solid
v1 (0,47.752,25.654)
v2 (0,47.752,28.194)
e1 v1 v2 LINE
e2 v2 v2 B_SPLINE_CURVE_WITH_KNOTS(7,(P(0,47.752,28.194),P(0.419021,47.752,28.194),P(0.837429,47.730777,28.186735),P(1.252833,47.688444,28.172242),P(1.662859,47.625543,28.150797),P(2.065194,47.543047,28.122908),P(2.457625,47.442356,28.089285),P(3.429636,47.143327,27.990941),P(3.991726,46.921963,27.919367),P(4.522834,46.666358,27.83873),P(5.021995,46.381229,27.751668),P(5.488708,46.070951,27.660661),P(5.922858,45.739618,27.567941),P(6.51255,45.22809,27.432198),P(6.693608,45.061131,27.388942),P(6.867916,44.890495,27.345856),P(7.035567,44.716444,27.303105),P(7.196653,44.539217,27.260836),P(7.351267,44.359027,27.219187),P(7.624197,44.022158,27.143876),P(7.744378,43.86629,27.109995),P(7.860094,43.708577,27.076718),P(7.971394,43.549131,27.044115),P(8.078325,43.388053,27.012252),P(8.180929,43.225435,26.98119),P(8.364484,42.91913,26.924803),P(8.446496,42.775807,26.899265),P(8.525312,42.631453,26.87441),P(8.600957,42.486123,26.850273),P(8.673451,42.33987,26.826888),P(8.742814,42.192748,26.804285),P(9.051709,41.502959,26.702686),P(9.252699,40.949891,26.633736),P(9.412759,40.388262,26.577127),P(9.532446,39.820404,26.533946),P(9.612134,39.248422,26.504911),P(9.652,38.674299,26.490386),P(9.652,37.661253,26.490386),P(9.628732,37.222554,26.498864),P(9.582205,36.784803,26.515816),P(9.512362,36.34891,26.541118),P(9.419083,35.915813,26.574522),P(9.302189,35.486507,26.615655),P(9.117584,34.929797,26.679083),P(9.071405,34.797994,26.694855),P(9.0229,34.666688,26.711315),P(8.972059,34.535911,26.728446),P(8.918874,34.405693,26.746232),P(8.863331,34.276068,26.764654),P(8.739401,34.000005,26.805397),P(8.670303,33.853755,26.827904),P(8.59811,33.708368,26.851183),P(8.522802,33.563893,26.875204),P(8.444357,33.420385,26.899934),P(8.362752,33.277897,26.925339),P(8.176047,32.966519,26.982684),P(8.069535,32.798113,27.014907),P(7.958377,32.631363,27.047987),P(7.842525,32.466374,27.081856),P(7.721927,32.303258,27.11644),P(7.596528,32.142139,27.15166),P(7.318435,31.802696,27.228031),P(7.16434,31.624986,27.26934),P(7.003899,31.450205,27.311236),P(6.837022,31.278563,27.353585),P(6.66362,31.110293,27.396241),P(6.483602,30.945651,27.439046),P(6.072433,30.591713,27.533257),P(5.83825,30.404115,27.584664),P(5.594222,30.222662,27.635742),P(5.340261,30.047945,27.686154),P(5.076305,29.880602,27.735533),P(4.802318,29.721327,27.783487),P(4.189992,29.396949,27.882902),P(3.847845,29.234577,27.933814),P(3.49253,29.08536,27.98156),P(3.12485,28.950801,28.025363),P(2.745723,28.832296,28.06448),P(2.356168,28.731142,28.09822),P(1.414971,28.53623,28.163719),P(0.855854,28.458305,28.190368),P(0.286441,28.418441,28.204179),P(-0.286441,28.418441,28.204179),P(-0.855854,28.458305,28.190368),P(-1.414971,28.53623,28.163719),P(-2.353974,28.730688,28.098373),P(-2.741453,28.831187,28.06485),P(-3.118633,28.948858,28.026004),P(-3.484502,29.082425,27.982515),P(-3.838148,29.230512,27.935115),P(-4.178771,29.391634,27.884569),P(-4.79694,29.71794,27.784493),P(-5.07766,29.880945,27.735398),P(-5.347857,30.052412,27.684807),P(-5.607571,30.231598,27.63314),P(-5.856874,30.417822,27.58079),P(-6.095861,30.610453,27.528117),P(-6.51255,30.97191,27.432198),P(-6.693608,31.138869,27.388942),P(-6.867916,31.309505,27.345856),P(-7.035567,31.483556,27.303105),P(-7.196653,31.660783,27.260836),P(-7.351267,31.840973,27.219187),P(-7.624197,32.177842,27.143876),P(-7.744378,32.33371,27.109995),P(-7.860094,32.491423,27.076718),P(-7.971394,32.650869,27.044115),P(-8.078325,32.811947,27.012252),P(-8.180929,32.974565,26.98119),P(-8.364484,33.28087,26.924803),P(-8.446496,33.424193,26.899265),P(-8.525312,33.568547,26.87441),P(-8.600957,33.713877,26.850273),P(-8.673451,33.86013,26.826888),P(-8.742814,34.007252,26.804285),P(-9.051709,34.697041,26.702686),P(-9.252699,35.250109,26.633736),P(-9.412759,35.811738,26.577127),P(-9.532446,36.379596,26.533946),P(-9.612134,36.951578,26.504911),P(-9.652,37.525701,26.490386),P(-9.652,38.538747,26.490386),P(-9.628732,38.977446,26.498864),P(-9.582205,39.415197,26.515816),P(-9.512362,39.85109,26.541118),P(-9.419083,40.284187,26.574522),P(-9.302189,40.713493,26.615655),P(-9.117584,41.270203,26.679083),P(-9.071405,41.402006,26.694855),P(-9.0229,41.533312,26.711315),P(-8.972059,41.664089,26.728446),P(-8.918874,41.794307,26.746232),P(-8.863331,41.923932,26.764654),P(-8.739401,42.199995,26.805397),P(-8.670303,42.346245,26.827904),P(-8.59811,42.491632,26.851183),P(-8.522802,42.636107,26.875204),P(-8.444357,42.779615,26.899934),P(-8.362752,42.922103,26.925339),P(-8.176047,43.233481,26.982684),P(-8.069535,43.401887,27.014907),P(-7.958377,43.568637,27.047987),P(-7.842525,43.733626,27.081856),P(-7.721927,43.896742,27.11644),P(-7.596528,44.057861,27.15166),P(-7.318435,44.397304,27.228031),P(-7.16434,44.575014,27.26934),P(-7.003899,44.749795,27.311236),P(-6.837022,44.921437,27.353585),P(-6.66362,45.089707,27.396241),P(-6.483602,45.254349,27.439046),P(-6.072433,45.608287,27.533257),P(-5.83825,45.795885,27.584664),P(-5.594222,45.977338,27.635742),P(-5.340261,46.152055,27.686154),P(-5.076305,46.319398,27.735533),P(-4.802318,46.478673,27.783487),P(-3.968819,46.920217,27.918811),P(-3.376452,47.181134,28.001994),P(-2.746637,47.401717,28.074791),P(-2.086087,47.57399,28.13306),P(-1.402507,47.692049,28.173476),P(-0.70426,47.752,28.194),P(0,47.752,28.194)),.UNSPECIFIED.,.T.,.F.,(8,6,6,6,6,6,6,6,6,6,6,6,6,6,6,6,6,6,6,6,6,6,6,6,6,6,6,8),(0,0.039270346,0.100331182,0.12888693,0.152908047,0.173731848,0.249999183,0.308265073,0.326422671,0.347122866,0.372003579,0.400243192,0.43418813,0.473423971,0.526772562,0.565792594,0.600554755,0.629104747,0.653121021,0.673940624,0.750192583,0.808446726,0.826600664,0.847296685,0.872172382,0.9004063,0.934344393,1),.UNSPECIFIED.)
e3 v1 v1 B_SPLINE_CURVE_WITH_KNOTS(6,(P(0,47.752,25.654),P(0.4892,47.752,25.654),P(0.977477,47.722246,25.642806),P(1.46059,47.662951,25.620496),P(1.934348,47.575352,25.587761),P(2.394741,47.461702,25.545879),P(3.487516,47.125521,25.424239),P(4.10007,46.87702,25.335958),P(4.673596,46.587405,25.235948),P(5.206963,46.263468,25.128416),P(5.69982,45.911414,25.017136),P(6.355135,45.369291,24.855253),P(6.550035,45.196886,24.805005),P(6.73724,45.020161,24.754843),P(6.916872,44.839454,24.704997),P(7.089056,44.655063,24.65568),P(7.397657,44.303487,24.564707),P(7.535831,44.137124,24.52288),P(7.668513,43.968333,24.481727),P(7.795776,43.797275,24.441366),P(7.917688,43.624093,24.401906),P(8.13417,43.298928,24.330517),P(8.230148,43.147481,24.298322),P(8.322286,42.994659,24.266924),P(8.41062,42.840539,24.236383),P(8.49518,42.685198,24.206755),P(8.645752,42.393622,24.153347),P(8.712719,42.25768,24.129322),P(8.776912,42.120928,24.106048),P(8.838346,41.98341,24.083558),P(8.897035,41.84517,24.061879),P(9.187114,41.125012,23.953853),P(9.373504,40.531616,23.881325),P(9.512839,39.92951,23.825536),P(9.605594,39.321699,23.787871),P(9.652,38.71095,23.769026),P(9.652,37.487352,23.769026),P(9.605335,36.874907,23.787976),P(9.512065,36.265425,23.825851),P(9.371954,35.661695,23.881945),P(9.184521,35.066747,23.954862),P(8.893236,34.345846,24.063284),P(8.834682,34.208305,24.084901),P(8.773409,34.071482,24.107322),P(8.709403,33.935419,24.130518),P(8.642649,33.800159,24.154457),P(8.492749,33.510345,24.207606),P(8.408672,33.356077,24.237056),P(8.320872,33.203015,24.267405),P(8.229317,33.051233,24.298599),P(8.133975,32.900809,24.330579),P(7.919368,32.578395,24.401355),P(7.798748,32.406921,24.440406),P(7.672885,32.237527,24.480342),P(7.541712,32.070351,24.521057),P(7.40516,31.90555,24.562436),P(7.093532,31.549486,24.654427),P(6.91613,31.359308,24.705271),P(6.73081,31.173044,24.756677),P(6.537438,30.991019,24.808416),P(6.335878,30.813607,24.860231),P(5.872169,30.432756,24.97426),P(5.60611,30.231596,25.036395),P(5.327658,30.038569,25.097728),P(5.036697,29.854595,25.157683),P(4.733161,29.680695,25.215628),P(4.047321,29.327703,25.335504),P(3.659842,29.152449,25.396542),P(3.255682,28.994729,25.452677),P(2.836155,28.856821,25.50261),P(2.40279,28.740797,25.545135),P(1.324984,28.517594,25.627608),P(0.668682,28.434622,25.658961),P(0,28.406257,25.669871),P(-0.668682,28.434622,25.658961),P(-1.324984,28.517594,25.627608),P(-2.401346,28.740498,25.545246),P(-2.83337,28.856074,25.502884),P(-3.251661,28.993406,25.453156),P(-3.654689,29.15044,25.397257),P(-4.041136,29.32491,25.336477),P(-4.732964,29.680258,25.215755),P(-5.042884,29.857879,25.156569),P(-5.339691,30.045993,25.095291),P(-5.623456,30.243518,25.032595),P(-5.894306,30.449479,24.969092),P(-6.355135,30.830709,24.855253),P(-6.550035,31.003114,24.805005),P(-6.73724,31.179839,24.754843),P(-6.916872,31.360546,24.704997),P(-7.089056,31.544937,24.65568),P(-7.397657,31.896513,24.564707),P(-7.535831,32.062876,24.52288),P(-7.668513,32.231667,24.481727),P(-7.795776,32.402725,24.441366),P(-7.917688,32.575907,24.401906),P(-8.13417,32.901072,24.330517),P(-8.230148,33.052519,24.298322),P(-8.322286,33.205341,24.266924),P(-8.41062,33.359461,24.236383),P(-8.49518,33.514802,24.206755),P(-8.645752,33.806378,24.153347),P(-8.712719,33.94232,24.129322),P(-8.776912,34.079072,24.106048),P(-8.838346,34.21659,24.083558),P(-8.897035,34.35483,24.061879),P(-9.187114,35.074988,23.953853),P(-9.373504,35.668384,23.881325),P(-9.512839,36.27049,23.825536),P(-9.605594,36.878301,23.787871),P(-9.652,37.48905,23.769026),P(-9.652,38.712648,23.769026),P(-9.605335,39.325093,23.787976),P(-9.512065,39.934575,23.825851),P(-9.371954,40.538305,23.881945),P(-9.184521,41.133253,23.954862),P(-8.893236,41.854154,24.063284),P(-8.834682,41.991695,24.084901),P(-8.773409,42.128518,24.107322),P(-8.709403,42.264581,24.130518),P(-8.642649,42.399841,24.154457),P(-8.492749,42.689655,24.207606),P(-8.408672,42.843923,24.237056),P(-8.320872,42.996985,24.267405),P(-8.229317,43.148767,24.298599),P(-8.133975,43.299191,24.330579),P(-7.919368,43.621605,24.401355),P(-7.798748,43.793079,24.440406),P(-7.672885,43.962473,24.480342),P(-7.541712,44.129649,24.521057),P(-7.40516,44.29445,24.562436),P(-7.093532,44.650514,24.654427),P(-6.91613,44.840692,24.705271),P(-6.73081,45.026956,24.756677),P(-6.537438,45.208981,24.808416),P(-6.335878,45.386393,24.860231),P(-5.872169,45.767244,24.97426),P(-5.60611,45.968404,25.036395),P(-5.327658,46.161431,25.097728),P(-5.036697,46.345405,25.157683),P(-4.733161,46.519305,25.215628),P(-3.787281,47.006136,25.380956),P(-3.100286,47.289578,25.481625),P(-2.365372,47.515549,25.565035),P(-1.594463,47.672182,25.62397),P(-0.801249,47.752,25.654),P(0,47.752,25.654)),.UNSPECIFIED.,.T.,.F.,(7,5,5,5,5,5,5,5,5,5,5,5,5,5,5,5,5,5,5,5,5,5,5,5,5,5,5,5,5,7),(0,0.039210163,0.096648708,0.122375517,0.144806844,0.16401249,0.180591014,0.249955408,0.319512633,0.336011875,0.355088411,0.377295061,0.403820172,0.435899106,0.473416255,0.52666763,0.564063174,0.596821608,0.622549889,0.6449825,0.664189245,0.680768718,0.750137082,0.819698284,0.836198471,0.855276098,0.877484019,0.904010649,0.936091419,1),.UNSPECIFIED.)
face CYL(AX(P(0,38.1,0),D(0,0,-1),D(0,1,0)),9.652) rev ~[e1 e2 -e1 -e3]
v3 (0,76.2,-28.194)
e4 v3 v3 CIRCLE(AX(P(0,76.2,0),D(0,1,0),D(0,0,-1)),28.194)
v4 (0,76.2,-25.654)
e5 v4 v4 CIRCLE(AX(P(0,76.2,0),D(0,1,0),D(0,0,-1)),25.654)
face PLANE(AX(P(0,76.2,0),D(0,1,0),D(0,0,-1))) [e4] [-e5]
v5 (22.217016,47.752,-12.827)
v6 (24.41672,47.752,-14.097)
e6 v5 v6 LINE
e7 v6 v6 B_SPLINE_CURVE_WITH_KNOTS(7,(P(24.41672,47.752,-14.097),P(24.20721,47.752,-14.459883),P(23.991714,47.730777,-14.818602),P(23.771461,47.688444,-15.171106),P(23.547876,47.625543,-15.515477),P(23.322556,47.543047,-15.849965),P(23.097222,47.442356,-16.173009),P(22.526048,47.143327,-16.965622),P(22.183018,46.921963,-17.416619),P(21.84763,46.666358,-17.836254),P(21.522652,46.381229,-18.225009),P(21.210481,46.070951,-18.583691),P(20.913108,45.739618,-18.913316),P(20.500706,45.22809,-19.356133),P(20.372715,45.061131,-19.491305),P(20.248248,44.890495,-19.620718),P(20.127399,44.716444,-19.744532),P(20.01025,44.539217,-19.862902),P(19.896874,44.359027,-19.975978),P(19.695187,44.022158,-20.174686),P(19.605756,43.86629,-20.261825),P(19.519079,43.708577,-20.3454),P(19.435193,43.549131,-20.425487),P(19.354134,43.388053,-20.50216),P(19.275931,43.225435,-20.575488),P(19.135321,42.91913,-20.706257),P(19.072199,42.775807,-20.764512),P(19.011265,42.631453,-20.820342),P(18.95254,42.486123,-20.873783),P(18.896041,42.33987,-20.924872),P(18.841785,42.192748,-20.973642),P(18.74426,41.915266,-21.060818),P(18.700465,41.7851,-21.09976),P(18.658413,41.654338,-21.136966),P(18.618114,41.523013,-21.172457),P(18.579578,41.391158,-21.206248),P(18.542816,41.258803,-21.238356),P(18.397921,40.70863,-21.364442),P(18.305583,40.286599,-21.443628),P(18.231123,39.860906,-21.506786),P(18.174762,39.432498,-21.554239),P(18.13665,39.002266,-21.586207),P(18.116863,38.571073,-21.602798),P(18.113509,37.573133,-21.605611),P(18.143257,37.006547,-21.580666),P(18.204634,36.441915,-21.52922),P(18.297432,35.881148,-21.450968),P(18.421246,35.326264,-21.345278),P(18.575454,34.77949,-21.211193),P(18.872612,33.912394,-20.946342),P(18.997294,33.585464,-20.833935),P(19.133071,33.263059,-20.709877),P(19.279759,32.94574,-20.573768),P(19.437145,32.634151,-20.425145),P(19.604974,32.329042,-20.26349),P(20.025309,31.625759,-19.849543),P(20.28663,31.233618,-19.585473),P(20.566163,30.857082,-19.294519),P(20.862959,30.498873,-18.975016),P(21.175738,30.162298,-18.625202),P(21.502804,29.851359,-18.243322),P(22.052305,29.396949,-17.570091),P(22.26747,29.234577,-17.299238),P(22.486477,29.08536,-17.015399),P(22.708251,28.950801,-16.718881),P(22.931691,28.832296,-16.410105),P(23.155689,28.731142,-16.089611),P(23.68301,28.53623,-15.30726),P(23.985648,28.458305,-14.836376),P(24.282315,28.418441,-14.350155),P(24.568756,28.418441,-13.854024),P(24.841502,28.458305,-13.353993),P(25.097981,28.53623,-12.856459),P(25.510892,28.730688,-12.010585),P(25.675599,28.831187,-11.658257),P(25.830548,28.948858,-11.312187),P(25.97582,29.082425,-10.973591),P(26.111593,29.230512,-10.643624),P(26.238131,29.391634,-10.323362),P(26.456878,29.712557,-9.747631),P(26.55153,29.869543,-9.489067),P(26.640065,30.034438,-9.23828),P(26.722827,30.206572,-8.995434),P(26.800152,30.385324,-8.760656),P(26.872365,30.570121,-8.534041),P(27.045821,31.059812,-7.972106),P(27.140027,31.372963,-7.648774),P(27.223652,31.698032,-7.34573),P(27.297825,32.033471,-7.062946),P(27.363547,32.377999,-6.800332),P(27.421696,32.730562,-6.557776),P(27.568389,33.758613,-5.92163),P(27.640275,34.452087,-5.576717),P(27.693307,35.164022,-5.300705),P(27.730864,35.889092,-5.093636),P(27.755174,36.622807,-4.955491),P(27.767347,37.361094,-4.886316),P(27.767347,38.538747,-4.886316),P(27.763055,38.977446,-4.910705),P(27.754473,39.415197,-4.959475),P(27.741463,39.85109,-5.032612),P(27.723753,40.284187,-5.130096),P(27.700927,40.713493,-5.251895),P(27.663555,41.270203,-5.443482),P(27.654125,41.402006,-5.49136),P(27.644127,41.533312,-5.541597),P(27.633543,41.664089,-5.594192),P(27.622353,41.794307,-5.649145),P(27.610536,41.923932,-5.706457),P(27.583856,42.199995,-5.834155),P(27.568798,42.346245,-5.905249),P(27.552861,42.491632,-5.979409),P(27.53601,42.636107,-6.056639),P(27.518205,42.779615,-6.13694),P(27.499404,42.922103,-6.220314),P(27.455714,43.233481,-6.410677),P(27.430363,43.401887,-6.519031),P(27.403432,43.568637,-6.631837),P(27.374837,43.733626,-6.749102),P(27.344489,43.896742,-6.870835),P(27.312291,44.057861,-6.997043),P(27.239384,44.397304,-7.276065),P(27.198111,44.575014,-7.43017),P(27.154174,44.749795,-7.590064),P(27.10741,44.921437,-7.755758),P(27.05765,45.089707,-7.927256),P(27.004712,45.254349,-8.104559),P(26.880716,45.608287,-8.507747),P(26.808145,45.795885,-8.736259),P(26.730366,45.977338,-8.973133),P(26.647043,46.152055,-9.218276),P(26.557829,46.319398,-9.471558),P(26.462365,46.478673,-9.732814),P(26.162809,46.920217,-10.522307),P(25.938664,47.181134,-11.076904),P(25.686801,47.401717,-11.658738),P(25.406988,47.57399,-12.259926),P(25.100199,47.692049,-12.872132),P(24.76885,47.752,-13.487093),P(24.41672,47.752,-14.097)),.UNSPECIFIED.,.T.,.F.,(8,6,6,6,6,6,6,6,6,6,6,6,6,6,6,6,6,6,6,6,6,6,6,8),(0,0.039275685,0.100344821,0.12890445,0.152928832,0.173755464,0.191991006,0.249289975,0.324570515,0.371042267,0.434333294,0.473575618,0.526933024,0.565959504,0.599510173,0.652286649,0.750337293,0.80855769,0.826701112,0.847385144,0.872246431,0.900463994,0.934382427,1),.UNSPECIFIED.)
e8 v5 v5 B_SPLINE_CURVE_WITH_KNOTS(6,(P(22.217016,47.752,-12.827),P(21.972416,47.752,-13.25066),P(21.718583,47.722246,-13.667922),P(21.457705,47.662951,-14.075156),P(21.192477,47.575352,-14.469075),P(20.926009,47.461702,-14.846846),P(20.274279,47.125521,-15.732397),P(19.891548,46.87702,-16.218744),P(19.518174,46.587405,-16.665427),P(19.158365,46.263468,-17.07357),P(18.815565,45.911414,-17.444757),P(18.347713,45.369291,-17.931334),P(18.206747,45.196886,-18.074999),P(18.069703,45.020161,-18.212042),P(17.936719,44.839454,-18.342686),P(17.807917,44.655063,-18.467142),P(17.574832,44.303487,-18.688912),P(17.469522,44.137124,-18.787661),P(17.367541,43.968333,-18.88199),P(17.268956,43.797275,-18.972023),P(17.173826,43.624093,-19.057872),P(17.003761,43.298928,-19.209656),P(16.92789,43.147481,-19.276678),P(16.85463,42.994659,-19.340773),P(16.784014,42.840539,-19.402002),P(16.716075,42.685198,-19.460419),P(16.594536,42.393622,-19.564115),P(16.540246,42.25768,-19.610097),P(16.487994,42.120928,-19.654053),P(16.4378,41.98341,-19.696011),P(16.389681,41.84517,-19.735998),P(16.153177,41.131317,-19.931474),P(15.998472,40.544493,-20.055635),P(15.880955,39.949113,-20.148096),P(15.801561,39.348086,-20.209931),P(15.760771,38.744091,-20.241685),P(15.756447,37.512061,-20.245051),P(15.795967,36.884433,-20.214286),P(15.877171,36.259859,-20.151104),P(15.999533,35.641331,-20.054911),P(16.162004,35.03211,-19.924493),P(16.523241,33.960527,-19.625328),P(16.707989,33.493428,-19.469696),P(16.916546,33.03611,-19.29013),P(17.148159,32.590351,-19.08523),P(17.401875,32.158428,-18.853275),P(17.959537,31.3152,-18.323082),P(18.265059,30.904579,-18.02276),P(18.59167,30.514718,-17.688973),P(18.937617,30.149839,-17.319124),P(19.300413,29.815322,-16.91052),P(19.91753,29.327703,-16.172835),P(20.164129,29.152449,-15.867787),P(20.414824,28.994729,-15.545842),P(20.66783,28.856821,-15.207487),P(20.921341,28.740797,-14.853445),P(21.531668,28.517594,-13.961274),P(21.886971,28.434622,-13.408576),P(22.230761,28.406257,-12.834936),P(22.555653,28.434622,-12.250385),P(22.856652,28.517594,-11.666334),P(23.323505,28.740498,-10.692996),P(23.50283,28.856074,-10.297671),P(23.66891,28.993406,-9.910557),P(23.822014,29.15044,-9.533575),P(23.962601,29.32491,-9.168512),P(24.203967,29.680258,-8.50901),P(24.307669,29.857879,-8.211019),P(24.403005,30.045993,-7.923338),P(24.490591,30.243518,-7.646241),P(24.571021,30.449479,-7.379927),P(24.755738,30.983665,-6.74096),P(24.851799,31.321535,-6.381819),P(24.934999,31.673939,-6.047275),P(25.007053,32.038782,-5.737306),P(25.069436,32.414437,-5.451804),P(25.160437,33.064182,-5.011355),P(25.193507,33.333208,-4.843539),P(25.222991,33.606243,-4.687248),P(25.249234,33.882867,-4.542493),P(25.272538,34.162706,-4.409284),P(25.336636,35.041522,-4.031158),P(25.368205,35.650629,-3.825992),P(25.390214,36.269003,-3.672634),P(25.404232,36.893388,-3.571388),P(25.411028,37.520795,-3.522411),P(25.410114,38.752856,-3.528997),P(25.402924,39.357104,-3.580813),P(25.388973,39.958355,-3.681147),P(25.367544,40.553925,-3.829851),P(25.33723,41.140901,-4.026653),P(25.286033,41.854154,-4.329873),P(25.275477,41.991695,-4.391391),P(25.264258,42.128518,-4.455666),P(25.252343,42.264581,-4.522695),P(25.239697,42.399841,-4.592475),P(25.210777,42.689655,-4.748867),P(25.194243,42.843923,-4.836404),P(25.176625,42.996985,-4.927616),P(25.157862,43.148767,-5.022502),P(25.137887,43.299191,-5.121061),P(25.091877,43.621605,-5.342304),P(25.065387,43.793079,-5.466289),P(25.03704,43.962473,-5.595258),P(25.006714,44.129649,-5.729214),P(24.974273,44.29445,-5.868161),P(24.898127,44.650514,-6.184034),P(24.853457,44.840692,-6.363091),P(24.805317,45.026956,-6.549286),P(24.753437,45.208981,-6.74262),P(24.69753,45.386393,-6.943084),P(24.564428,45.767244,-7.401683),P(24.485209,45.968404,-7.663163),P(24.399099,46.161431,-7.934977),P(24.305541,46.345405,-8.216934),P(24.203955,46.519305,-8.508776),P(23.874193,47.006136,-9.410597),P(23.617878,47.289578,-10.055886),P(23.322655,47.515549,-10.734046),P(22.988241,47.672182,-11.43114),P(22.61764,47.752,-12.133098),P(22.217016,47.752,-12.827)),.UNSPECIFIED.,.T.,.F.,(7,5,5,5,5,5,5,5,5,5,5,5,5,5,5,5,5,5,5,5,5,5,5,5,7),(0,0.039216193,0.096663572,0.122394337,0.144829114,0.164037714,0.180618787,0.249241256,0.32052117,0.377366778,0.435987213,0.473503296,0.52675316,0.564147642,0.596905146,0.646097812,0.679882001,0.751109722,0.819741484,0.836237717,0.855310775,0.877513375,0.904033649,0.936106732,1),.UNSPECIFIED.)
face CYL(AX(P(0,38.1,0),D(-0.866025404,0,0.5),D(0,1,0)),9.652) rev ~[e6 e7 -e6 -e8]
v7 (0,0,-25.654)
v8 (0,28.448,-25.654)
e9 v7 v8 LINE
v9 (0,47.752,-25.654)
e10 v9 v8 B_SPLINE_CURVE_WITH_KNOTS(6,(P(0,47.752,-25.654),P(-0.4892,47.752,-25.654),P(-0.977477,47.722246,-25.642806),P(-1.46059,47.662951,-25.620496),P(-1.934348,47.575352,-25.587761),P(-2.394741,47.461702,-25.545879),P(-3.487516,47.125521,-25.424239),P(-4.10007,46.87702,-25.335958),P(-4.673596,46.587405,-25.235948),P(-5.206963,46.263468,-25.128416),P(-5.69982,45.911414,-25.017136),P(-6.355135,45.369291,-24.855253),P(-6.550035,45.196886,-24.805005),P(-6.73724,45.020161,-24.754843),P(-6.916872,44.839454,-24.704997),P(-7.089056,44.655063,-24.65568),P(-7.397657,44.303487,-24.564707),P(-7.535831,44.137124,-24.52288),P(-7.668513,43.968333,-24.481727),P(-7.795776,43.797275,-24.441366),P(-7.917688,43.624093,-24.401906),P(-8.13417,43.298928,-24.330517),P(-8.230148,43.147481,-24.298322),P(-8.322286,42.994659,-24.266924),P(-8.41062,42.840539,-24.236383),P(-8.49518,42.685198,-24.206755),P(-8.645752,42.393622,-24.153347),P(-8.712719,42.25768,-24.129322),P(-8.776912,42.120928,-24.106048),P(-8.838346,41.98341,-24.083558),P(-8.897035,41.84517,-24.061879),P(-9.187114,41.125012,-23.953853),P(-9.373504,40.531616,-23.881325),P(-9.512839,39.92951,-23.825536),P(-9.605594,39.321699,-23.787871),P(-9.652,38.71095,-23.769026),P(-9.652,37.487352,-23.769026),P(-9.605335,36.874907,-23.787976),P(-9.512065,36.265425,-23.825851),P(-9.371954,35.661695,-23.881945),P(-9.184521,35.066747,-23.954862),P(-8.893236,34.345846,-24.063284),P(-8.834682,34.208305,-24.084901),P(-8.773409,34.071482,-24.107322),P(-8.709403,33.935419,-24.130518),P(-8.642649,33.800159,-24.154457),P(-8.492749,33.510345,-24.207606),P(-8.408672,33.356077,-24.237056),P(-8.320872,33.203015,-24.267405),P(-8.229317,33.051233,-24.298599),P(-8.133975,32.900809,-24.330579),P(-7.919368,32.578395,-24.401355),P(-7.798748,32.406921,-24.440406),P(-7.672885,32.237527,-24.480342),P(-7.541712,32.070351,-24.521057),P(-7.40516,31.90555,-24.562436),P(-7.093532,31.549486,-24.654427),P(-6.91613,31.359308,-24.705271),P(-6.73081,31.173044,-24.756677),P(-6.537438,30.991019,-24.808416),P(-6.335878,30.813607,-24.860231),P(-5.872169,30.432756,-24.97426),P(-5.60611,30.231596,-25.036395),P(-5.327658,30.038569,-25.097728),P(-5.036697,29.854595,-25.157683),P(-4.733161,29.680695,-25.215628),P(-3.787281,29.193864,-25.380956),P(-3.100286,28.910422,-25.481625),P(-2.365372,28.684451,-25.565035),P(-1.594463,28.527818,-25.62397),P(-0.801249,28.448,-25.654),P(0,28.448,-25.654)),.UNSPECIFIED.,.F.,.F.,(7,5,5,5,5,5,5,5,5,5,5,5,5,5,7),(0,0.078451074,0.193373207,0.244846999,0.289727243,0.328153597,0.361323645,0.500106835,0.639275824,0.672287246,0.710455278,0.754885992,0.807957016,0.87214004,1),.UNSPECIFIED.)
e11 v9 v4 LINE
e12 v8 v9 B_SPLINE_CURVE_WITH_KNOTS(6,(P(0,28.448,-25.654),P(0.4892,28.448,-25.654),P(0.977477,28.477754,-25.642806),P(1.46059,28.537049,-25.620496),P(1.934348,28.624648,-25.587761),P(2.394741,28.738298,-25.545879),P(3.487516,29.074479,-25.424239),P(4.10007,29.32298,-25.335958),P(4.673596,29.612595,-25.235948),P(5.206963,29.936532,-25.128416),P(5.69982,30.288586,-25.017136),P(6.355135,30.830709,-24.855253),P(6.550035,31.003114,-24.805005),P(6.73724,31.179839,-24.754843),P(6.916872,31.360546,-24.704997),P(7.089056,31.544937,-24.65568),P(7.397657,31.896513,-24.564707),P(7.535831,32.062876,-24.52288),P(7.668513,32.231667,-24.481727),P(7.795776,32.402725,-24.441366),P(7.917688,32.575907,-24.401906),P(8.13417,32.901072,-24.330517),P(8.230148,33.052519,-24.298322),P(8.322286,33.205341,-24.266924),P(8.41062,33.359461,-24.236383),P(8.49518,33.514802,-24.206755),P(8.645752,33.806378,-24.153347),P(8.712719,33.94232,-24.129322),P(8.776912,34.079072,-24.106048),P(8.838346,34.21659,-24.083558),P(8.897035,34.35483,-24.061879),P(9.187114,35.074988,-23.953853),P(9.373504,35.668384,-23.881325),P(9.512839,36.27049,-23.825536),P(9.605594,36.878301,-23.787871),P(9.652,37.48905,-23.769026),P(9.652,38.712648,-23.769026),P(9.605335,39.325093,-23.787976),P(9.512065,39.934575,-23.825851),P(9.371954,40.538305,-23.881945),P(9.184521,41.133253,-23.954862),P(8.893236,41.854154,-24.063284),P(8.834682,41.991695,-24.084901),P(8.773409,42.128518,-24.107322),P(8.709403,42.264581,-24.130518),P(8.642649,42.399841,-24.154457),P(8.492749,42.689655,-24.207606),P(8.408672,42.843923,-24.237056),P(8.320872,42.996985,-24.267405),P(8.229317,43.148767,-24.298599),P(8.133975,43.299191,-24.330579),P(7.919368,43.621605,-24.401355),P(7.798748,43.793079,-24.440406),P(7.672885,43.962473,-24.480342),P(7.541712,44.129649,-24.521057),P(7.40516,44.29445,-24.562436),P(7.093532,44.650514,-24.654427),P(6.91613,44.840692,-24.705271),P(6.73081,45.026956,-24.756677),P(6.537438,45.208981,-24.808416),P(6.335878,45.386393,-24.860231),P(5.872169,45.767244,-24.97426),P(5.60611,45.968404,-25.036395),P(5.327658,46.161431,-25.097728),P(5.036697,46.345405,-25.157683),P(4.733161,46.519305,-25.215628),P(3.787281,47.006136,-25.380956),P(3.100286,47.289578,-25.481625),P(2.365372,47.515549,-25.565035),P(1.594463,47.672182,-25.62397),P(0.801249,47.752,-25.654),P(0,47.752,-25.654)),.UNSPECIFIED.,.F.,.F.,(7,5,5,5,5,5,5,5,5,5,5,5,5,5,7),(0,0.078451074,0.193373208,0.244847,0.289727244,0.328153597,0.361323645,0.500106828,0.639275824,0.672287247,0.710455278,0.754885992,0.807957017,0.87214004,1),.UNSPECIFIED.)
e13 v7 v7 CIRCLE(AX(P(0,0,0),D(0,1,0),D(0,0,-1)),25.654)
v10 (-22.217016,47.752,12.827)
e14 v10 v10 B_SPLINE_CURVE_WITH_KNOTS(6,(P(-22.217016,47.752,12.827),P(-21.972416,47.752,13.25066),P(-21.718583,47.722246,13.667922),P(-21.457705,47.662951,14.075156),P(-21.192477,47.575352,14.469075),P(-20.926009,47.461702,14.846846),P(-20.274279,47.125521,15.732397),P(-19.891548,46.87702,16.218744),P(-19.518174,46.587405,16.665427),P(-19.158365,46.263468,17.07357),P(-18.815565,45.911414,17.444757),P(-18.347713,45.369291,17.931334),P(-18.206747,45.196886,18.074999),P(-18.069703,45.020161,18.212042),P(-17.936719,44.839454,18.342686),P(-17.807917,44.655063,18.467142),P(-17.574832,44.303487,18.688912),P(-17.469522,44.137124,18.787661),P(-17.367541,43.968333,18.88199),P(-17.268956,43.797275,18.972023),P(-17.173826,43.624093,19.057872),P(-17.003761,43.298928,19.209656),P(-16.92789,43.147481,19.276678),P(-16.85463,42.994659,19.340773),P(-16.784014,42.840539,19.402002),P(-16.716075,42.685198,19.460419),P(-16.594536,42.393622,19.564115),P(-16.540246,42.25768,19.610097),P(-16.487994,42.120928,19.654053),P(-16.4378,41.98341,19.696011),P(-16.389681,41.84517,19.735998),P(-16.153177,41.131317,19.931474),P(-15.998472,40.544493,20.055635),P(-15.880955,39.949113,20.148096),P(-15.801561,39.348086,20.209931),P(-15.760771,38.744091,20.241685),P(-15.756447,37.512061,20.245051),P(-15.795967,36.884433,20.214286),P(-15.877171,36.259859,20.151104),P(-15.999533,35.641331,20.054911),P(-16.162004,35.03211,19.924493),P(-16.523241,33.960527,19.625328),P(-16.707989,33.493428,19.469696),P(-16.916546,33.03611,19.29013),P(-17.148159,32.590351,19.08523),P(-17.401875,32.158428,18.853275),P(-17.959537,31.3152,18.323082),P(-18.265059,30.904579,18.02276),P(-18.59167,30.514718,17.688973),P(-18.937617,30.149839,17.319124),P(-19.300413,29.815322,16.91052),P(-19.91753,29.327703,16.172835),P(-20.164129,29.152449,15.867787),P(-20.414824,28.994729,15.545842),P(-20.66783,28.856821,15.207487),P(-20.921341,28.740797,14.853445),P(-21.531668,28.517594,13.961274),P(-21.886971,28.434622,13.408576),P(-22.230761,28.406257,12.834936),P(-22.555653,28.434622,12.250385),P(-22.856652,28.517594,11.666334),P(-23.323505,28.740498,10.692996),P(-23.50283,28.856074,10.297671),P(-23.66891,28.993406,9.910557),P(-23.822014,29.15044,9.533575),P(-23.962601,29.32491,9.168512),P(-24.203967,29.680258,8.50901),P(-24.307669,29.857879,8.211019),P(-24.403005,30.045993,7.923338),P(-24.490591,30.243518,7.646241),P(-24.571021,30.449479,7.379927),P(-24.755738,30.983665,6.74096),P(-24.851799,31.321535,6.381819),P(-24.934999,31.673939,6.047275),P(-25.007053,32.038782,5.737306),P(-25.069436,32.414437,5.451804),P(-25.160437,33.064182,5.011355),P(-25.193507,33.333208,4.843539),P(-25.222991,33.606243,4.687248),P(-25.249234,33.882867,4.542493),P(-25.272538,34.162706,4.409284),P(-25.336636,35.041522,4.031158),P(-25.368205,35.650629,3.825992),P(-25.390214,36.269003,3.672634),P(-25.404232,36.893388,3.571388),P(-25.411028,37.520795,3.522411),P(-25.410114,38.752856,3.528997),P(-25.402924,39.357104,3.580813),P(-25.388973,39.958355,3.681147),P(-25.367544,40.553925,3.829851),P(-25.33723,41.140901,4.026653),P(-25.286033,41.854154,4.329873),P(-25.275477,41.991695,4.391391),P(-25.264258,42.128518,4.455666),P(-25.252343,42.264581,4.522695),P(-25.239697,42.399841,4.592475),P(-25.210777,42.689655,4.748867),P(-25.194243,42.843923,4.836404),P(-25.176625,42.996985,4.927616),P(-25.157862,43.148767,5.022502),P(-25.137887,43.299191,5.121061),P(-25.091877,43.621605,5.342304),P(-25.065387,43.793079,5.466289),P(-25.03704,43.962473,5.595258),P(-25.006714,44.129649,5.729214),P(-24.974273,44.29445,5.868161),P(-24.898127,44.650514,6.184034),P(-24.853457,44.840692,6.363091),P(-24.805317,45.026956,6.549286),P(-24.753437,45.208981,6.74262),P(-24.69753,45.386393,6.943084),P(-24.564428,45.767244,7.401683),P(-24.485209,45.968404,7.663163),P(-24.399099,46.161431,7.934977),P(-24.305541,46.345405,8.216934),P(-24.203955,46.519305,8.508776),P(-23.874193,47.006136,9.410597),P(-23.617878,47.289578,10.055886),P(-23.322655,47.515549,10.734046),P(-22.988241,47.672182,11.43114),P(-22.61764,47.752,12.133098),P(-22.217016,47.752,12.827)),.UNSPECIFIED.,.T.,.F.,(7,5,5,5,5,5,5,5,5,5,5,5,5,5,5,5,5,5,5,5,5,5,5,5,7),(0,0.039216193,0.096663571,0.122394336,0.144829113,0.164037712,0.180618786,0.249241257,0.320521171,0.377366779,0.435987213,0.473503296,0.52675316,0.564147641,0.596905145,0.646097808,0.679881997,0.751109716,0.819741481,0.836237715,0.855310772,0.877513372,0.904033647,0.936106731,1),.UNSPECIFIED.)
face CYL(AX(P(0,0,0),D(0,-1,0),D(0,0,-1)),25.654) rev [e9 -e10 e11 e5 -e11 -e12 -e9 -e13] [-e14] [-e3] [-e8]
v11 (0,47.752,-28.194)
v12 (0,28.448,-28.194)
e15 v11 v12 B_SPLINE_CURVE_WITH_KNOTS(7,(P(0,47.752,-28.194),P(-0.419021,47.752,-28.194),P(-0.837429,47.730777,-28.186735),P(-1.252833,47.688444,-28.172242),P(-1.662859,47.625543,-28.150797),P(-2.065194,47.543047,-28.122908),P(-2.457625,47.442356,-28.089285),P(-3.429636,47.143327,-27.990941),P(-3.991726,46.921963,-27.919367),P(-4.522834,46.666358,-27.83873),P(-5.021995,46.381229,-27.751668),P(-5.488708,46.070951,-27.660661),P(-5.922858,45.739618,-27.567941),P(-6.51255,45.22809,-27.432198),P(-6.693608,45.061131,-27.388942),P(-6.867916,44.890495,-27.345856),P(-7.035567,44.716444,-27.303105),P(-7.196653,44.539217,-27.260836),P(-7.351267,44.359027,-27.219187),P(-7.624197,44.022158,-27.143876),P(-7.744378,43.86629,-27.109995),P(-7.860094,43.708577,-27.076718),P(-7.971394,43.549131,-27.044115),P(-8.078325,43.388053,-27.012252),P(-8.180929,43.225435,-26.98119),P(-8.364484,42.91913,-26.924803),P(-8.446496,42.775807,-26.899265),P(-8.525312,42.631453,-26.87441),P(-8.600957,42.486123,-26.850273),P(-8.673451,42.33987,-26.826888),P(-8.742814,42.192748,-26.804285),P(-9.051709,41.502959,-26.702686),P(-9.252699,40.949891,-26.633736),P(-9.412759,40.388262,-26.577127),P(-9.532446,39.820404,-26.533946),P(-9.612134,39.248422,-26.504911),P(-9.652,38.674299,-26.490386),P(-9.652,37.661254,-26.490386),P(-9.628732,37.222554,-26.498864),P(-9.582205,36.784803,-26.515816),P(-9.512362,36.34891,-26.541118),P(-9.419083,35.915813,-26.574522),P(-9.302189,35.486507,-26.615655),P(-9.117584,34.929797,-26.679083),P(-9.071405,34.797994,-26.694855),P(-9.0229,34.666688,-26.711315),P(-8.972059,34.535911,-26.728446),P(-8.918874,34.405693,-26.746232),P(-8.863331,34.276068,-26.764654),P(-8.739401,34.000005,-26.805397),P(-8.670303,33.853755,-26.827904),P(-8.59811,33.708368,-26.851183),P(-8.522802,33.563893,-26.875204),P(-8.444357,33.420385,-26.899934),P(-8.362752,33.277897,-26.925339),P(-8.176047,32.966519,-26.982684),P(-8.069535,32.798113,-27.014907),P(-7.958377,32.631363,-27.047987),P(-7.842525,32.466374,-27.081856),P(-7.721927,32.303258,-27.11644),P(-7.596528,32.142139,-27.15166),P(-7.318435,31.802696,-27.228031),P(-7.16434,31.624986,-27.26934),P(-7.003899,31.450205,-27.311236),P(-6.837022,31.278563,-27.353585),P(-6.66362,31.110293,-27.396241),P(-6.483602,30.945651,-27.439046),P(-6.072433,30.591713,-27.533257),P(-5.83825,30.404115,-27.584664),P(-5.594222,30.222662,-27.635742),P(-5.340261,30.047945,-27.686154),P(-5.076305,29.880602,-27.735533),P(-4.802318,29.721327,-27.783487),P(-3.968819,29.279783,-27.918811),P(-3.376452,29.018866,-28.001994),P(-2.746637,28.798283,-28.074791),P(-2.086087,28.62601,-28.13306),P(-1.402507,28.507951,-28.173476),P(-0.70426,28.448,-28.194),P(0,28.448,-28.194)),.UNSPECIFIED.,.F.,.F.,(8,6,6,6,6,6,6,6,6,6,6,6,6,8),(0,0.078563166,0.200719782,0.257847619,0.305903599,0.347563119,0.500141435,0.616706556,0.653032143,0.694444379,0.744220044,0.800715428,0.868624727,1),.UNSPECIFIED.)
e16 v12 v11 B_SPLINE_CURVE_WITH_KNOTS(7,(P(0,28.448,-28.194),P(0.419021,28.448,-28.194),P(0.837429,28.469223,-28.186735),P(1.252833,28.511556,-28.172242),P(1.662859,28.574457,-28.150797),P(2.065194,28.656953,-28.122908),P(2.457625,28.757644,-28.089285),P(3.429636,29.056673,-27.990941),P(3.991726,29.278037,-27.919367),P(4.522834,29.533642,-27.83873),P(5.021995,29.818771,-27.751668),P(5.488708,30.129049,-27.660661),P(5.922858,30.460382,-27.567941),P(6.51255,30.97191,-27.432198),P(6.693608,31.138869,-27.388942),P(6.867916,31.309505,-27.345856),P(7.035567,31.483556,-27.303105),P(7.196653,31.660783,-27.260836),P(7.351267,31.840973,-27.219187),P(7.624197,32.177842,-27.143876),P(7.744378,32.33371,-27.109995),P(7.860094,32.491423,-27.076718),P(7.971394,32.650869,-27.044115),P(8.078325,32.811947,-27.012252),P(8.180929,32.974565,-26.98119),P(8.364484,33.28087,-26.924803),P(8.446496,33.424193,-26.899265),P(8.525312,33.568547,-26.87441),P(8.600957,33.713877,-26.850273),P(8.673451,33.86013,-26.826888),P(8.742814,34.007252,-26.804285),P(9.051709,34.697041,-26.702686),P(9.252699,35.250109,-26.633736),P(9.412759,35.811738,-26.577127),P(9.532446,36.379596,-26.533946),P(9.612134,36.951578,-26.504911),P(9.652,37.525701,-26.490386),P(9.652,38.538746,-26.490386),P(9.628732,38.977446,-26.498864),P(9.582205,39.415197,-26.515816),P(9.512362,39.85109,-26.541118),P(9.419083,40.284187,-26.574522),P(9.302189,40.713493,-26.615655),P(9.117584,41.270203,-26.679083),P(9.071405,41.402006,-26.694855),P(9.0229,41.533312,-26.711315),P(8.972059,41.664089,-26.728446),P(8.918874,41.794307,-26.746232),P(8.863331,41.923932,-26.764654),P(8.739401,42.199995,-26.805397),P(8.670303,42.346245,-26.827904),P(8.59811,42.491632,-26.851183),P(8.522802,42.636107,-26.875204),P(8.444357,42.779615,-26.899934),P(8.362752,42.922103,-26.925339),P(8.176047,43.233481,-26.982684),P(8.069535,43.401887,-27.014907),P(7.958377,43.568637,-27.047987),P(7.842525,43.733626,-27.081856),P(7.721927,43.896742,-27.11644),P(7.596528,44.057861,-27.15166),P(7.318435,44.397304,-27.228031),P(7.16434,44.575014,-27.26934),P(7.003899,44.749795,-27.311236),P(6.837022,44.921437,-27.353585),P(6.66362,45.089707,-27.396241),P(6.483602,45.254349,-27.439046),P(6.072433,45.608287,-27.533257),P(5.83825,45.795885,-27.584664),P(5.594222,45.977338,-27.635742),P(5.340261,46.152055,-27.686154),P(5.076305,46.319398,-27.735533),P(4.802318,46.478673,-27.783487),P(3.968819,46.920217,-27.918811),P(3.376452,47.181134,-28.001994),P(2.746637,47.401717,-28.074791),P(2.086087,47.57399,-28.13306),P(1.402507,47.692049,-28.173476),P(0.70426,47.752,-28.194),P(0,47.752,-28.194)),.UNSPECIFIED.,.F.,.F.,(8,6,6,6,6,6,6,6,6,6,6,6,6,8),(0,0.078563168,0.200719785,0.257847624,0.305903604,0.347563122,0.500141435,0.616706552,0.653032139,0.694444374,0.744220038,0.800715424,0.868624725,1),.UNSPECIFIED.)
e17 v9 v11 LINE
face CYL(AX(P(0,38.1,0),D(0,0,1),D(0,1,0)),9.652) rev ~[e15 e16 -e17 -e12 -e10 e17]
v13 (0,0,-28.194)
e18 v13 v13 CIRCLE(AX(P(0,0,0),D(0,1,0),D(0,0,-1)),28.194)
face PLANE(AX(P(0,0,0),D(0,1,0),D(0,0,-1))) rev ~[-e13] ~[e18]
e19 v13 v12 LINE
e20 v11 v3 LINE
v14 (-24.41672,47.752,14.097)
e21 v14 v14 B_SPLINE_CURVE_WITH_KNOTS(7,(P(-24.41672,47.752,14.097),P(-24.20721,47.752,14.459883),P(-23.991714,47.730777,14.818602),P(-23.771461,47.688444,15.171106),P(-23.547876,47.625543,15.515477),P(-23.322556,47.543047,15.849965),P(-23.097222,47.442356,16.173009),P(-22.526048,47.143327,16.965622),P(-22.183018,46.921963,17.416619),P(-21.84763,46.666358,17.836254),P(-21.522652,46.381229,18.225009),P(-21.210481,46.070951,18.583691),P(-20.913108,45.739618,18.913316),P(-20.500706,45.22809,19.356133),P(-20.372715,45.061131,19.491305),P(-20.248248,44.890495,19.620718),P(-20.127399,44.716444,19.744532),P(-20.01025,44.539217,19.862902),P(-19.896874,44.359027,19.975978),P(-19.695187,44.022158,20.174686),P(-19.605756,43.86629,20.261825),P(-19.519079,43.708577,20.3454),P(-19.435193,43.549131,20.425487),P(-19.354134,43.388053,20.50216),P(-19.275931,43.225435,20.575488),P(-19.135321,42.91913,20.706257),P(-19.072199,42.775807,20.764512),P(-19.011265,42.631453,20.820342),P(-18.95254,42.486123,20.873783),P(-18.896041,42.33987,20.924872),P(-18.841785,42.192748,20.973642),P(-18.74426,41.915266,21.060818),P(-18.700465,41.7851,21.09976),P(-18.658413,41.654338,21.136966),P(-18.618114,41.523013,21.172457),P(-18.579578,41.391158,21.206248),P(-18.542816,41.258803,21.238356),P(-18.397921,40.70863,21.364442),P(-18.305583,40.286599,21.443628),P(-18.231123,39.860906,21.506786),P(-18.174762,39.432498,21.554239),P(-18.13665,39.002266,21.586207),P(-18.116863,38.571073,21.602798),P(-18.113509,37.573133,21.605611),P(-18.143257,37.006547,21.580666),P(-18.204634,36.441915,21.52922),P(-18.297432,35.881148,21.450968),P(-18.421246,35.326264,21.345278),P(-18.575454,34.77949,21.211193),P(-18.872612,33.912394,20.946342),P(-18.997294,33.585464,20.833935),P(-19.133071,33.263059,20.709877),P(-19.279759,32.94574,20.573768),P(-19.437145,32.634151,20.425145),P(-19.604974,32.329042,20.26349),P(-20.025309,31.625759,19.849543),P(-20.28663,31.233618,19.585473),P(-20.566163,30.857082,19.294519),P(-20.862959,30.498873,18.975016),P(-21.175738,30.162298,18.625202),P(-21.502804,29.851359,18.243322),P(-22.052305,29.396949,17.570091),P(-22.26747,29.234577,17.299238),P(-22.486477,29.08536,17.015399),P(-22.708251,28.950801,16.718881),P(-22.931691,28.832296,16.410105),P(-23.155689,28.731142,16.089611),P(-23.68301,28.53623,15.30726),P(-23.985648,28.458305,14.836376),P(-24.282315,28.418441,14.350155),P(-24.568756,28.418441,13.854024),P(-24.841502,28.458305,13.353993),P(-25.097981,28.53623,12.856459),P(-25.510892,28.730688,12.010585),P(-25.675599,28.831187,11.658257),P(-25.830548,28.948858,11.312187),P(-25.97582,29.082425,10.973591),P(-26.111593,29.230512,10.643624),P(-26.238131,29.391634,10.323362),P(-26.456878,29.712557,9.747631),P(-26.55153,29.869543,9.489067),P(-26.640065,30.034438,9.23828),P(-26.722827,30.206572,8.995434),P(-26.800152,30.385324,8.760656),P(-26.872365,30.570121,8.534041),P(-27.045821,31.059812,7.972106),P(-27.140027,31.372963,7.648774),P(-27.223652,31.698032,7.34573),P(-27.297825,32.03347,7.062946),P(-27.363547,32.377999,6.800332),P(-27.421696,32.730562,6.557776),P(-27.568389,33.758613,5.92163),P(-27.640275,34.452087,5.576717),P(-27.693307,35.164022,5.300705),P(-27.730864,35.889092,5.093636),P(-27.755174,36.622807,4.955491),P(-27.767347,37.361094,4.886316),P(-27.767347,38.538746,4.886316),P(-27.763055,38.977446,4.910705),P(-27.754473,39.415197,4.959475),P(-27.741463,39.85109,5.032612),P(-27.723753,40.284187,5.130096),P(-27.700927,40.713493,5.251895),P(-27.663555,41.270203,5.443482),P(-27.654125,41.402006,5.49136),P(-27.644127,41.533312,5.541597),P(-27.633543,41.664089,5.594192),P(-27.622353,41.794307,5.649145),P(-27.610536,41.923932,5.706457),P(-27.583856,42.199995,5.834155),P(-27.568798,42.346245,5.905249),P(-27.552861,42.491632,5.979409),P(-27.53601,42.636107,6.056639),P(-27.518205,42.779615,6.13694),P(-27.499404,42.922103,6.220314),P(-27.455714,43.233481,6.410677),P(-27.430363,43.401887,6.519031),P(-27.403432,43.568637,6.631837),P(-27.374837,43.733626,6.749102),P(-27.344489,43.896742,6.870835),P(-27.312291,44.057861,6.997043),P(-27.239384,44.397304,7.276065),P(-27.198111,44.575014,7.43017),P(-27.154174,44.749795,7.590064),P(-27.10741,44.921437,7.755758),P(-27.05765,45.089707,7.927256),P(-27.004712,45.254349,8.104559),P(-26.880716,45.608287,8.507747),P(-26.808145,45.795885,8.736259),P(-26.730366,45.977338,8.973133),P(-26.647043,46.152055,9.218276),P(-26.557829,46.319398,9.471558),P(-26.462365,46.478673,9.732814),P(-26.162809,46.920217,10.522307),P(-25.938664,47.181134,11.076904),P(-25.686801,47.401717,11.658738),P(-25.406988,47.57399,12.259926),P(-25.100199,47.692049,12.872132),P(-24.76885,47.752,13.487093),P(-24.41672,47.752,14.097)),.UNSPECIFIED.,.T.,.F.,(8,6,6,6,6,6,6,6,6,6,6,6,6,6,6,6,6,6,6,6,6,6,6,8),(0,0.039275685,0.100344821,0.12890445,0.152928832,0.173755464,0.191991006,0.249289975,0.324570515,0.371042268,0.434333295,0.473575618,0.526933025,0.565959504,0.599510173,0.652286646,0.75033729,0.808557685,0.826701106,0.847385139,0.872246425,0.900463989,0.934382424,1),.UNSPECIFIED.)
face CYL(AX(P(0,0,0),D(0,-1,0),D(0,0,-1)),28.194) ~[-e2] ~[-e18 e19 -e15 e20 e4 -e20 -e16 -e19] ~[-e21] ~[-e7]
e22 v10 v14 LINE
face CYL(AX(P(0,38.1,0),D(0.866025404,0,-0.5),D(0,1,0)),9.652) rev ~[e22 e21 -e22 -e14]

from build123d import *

# Parameters (mm, degrees)
SKETCH2_R           = 28.194
SKETCH2_R_2         = 25.654
BOSS_EXTRUDE1_DEPTH = 76.2
SKETCH3_R           = 9.652
CUT_EXTRUDE1_DEPTH  = 76.2
CIRPATTERN1_COUNT   = 2
CIRPATTERN1_ANGLE   = 60
CIRPATTERN2_COUNT   = 2
CIRPATTERN3_COUNT   = 2
CIRPATTERN3_ANGLE   = 120


with BuildPart() as part:
    # Sketch2 → Boss-Extrude1 (new body)
    with BuildSketch(Plane(origin=(0, 0, 0), x_dir=(1, 0, 0), z_dir=(0, 1, 0))):
        with Locations(Location((0, 0, 0), (0, 0, 90))):
            Circle(SKETCH2_R)
        with Locations(Location((0, 0, 0), (0, 0, 90))):
            Circle(SKETCH2_R_2, mode=Mode.SUBTRACT)
    extrude(amount=BOSS_EXTRUDE1_DEPTH)

    # Sketch3 → Cut-Extrude1 (cut)
    with BuildSketch(Plane.XY):
        with Locations(Location((0, 38.1, 0), (0, 0, 90))):
            Circle(SKETCH3_R)
    cut_extrude1 = extrude(amount=-CUT_EXTRUDE1_DEPTH, mode=Mode.SUBTRACT)

    # CirPattern1: Cut-Extrude1 ×2 about axis
    cirpattern1_axis = Axis((0, 76.2, 0), (0, -1, 0))
    for i in range(1, CIRPATTERN1_COUNT):
        add(cut_extrude1.rotate(cirpattern1_axis, i * CIRPATTERN1_ANGLE / (CIRPATTERN1_COUNT - 1)), mode=Mode.SUBTRACT)

    # CirPattern2: Cut-Extrude1 ×2 about axis
    cirpattern2_axis = Axis((0, 76.2, 0), (0, -1, 0))
    for i in range(1, CIRPATTERN2_COUNT):
        add(cut_extrude1.rotate(cirpattern2_axis, i * 360 / CIRPATTERN2_COUNT), mode=Mode.SUBTRACT)

    # CirPattern3: Cut-Extrude1 ×2 about axis
    cirpattern3_axis = Axis((0, 76.2, 0), (0, 1, 0))
    for i in range(1, CIRPATTERN3_COUNT):
        add(cut_extrude1.rotate(cirpattern3_axis, i * CIRPATTERN3_ANGLE / (CIRPATTERN3_COUNT - 1)), mode=Mode.SUBTRACT)


solid = part.part
